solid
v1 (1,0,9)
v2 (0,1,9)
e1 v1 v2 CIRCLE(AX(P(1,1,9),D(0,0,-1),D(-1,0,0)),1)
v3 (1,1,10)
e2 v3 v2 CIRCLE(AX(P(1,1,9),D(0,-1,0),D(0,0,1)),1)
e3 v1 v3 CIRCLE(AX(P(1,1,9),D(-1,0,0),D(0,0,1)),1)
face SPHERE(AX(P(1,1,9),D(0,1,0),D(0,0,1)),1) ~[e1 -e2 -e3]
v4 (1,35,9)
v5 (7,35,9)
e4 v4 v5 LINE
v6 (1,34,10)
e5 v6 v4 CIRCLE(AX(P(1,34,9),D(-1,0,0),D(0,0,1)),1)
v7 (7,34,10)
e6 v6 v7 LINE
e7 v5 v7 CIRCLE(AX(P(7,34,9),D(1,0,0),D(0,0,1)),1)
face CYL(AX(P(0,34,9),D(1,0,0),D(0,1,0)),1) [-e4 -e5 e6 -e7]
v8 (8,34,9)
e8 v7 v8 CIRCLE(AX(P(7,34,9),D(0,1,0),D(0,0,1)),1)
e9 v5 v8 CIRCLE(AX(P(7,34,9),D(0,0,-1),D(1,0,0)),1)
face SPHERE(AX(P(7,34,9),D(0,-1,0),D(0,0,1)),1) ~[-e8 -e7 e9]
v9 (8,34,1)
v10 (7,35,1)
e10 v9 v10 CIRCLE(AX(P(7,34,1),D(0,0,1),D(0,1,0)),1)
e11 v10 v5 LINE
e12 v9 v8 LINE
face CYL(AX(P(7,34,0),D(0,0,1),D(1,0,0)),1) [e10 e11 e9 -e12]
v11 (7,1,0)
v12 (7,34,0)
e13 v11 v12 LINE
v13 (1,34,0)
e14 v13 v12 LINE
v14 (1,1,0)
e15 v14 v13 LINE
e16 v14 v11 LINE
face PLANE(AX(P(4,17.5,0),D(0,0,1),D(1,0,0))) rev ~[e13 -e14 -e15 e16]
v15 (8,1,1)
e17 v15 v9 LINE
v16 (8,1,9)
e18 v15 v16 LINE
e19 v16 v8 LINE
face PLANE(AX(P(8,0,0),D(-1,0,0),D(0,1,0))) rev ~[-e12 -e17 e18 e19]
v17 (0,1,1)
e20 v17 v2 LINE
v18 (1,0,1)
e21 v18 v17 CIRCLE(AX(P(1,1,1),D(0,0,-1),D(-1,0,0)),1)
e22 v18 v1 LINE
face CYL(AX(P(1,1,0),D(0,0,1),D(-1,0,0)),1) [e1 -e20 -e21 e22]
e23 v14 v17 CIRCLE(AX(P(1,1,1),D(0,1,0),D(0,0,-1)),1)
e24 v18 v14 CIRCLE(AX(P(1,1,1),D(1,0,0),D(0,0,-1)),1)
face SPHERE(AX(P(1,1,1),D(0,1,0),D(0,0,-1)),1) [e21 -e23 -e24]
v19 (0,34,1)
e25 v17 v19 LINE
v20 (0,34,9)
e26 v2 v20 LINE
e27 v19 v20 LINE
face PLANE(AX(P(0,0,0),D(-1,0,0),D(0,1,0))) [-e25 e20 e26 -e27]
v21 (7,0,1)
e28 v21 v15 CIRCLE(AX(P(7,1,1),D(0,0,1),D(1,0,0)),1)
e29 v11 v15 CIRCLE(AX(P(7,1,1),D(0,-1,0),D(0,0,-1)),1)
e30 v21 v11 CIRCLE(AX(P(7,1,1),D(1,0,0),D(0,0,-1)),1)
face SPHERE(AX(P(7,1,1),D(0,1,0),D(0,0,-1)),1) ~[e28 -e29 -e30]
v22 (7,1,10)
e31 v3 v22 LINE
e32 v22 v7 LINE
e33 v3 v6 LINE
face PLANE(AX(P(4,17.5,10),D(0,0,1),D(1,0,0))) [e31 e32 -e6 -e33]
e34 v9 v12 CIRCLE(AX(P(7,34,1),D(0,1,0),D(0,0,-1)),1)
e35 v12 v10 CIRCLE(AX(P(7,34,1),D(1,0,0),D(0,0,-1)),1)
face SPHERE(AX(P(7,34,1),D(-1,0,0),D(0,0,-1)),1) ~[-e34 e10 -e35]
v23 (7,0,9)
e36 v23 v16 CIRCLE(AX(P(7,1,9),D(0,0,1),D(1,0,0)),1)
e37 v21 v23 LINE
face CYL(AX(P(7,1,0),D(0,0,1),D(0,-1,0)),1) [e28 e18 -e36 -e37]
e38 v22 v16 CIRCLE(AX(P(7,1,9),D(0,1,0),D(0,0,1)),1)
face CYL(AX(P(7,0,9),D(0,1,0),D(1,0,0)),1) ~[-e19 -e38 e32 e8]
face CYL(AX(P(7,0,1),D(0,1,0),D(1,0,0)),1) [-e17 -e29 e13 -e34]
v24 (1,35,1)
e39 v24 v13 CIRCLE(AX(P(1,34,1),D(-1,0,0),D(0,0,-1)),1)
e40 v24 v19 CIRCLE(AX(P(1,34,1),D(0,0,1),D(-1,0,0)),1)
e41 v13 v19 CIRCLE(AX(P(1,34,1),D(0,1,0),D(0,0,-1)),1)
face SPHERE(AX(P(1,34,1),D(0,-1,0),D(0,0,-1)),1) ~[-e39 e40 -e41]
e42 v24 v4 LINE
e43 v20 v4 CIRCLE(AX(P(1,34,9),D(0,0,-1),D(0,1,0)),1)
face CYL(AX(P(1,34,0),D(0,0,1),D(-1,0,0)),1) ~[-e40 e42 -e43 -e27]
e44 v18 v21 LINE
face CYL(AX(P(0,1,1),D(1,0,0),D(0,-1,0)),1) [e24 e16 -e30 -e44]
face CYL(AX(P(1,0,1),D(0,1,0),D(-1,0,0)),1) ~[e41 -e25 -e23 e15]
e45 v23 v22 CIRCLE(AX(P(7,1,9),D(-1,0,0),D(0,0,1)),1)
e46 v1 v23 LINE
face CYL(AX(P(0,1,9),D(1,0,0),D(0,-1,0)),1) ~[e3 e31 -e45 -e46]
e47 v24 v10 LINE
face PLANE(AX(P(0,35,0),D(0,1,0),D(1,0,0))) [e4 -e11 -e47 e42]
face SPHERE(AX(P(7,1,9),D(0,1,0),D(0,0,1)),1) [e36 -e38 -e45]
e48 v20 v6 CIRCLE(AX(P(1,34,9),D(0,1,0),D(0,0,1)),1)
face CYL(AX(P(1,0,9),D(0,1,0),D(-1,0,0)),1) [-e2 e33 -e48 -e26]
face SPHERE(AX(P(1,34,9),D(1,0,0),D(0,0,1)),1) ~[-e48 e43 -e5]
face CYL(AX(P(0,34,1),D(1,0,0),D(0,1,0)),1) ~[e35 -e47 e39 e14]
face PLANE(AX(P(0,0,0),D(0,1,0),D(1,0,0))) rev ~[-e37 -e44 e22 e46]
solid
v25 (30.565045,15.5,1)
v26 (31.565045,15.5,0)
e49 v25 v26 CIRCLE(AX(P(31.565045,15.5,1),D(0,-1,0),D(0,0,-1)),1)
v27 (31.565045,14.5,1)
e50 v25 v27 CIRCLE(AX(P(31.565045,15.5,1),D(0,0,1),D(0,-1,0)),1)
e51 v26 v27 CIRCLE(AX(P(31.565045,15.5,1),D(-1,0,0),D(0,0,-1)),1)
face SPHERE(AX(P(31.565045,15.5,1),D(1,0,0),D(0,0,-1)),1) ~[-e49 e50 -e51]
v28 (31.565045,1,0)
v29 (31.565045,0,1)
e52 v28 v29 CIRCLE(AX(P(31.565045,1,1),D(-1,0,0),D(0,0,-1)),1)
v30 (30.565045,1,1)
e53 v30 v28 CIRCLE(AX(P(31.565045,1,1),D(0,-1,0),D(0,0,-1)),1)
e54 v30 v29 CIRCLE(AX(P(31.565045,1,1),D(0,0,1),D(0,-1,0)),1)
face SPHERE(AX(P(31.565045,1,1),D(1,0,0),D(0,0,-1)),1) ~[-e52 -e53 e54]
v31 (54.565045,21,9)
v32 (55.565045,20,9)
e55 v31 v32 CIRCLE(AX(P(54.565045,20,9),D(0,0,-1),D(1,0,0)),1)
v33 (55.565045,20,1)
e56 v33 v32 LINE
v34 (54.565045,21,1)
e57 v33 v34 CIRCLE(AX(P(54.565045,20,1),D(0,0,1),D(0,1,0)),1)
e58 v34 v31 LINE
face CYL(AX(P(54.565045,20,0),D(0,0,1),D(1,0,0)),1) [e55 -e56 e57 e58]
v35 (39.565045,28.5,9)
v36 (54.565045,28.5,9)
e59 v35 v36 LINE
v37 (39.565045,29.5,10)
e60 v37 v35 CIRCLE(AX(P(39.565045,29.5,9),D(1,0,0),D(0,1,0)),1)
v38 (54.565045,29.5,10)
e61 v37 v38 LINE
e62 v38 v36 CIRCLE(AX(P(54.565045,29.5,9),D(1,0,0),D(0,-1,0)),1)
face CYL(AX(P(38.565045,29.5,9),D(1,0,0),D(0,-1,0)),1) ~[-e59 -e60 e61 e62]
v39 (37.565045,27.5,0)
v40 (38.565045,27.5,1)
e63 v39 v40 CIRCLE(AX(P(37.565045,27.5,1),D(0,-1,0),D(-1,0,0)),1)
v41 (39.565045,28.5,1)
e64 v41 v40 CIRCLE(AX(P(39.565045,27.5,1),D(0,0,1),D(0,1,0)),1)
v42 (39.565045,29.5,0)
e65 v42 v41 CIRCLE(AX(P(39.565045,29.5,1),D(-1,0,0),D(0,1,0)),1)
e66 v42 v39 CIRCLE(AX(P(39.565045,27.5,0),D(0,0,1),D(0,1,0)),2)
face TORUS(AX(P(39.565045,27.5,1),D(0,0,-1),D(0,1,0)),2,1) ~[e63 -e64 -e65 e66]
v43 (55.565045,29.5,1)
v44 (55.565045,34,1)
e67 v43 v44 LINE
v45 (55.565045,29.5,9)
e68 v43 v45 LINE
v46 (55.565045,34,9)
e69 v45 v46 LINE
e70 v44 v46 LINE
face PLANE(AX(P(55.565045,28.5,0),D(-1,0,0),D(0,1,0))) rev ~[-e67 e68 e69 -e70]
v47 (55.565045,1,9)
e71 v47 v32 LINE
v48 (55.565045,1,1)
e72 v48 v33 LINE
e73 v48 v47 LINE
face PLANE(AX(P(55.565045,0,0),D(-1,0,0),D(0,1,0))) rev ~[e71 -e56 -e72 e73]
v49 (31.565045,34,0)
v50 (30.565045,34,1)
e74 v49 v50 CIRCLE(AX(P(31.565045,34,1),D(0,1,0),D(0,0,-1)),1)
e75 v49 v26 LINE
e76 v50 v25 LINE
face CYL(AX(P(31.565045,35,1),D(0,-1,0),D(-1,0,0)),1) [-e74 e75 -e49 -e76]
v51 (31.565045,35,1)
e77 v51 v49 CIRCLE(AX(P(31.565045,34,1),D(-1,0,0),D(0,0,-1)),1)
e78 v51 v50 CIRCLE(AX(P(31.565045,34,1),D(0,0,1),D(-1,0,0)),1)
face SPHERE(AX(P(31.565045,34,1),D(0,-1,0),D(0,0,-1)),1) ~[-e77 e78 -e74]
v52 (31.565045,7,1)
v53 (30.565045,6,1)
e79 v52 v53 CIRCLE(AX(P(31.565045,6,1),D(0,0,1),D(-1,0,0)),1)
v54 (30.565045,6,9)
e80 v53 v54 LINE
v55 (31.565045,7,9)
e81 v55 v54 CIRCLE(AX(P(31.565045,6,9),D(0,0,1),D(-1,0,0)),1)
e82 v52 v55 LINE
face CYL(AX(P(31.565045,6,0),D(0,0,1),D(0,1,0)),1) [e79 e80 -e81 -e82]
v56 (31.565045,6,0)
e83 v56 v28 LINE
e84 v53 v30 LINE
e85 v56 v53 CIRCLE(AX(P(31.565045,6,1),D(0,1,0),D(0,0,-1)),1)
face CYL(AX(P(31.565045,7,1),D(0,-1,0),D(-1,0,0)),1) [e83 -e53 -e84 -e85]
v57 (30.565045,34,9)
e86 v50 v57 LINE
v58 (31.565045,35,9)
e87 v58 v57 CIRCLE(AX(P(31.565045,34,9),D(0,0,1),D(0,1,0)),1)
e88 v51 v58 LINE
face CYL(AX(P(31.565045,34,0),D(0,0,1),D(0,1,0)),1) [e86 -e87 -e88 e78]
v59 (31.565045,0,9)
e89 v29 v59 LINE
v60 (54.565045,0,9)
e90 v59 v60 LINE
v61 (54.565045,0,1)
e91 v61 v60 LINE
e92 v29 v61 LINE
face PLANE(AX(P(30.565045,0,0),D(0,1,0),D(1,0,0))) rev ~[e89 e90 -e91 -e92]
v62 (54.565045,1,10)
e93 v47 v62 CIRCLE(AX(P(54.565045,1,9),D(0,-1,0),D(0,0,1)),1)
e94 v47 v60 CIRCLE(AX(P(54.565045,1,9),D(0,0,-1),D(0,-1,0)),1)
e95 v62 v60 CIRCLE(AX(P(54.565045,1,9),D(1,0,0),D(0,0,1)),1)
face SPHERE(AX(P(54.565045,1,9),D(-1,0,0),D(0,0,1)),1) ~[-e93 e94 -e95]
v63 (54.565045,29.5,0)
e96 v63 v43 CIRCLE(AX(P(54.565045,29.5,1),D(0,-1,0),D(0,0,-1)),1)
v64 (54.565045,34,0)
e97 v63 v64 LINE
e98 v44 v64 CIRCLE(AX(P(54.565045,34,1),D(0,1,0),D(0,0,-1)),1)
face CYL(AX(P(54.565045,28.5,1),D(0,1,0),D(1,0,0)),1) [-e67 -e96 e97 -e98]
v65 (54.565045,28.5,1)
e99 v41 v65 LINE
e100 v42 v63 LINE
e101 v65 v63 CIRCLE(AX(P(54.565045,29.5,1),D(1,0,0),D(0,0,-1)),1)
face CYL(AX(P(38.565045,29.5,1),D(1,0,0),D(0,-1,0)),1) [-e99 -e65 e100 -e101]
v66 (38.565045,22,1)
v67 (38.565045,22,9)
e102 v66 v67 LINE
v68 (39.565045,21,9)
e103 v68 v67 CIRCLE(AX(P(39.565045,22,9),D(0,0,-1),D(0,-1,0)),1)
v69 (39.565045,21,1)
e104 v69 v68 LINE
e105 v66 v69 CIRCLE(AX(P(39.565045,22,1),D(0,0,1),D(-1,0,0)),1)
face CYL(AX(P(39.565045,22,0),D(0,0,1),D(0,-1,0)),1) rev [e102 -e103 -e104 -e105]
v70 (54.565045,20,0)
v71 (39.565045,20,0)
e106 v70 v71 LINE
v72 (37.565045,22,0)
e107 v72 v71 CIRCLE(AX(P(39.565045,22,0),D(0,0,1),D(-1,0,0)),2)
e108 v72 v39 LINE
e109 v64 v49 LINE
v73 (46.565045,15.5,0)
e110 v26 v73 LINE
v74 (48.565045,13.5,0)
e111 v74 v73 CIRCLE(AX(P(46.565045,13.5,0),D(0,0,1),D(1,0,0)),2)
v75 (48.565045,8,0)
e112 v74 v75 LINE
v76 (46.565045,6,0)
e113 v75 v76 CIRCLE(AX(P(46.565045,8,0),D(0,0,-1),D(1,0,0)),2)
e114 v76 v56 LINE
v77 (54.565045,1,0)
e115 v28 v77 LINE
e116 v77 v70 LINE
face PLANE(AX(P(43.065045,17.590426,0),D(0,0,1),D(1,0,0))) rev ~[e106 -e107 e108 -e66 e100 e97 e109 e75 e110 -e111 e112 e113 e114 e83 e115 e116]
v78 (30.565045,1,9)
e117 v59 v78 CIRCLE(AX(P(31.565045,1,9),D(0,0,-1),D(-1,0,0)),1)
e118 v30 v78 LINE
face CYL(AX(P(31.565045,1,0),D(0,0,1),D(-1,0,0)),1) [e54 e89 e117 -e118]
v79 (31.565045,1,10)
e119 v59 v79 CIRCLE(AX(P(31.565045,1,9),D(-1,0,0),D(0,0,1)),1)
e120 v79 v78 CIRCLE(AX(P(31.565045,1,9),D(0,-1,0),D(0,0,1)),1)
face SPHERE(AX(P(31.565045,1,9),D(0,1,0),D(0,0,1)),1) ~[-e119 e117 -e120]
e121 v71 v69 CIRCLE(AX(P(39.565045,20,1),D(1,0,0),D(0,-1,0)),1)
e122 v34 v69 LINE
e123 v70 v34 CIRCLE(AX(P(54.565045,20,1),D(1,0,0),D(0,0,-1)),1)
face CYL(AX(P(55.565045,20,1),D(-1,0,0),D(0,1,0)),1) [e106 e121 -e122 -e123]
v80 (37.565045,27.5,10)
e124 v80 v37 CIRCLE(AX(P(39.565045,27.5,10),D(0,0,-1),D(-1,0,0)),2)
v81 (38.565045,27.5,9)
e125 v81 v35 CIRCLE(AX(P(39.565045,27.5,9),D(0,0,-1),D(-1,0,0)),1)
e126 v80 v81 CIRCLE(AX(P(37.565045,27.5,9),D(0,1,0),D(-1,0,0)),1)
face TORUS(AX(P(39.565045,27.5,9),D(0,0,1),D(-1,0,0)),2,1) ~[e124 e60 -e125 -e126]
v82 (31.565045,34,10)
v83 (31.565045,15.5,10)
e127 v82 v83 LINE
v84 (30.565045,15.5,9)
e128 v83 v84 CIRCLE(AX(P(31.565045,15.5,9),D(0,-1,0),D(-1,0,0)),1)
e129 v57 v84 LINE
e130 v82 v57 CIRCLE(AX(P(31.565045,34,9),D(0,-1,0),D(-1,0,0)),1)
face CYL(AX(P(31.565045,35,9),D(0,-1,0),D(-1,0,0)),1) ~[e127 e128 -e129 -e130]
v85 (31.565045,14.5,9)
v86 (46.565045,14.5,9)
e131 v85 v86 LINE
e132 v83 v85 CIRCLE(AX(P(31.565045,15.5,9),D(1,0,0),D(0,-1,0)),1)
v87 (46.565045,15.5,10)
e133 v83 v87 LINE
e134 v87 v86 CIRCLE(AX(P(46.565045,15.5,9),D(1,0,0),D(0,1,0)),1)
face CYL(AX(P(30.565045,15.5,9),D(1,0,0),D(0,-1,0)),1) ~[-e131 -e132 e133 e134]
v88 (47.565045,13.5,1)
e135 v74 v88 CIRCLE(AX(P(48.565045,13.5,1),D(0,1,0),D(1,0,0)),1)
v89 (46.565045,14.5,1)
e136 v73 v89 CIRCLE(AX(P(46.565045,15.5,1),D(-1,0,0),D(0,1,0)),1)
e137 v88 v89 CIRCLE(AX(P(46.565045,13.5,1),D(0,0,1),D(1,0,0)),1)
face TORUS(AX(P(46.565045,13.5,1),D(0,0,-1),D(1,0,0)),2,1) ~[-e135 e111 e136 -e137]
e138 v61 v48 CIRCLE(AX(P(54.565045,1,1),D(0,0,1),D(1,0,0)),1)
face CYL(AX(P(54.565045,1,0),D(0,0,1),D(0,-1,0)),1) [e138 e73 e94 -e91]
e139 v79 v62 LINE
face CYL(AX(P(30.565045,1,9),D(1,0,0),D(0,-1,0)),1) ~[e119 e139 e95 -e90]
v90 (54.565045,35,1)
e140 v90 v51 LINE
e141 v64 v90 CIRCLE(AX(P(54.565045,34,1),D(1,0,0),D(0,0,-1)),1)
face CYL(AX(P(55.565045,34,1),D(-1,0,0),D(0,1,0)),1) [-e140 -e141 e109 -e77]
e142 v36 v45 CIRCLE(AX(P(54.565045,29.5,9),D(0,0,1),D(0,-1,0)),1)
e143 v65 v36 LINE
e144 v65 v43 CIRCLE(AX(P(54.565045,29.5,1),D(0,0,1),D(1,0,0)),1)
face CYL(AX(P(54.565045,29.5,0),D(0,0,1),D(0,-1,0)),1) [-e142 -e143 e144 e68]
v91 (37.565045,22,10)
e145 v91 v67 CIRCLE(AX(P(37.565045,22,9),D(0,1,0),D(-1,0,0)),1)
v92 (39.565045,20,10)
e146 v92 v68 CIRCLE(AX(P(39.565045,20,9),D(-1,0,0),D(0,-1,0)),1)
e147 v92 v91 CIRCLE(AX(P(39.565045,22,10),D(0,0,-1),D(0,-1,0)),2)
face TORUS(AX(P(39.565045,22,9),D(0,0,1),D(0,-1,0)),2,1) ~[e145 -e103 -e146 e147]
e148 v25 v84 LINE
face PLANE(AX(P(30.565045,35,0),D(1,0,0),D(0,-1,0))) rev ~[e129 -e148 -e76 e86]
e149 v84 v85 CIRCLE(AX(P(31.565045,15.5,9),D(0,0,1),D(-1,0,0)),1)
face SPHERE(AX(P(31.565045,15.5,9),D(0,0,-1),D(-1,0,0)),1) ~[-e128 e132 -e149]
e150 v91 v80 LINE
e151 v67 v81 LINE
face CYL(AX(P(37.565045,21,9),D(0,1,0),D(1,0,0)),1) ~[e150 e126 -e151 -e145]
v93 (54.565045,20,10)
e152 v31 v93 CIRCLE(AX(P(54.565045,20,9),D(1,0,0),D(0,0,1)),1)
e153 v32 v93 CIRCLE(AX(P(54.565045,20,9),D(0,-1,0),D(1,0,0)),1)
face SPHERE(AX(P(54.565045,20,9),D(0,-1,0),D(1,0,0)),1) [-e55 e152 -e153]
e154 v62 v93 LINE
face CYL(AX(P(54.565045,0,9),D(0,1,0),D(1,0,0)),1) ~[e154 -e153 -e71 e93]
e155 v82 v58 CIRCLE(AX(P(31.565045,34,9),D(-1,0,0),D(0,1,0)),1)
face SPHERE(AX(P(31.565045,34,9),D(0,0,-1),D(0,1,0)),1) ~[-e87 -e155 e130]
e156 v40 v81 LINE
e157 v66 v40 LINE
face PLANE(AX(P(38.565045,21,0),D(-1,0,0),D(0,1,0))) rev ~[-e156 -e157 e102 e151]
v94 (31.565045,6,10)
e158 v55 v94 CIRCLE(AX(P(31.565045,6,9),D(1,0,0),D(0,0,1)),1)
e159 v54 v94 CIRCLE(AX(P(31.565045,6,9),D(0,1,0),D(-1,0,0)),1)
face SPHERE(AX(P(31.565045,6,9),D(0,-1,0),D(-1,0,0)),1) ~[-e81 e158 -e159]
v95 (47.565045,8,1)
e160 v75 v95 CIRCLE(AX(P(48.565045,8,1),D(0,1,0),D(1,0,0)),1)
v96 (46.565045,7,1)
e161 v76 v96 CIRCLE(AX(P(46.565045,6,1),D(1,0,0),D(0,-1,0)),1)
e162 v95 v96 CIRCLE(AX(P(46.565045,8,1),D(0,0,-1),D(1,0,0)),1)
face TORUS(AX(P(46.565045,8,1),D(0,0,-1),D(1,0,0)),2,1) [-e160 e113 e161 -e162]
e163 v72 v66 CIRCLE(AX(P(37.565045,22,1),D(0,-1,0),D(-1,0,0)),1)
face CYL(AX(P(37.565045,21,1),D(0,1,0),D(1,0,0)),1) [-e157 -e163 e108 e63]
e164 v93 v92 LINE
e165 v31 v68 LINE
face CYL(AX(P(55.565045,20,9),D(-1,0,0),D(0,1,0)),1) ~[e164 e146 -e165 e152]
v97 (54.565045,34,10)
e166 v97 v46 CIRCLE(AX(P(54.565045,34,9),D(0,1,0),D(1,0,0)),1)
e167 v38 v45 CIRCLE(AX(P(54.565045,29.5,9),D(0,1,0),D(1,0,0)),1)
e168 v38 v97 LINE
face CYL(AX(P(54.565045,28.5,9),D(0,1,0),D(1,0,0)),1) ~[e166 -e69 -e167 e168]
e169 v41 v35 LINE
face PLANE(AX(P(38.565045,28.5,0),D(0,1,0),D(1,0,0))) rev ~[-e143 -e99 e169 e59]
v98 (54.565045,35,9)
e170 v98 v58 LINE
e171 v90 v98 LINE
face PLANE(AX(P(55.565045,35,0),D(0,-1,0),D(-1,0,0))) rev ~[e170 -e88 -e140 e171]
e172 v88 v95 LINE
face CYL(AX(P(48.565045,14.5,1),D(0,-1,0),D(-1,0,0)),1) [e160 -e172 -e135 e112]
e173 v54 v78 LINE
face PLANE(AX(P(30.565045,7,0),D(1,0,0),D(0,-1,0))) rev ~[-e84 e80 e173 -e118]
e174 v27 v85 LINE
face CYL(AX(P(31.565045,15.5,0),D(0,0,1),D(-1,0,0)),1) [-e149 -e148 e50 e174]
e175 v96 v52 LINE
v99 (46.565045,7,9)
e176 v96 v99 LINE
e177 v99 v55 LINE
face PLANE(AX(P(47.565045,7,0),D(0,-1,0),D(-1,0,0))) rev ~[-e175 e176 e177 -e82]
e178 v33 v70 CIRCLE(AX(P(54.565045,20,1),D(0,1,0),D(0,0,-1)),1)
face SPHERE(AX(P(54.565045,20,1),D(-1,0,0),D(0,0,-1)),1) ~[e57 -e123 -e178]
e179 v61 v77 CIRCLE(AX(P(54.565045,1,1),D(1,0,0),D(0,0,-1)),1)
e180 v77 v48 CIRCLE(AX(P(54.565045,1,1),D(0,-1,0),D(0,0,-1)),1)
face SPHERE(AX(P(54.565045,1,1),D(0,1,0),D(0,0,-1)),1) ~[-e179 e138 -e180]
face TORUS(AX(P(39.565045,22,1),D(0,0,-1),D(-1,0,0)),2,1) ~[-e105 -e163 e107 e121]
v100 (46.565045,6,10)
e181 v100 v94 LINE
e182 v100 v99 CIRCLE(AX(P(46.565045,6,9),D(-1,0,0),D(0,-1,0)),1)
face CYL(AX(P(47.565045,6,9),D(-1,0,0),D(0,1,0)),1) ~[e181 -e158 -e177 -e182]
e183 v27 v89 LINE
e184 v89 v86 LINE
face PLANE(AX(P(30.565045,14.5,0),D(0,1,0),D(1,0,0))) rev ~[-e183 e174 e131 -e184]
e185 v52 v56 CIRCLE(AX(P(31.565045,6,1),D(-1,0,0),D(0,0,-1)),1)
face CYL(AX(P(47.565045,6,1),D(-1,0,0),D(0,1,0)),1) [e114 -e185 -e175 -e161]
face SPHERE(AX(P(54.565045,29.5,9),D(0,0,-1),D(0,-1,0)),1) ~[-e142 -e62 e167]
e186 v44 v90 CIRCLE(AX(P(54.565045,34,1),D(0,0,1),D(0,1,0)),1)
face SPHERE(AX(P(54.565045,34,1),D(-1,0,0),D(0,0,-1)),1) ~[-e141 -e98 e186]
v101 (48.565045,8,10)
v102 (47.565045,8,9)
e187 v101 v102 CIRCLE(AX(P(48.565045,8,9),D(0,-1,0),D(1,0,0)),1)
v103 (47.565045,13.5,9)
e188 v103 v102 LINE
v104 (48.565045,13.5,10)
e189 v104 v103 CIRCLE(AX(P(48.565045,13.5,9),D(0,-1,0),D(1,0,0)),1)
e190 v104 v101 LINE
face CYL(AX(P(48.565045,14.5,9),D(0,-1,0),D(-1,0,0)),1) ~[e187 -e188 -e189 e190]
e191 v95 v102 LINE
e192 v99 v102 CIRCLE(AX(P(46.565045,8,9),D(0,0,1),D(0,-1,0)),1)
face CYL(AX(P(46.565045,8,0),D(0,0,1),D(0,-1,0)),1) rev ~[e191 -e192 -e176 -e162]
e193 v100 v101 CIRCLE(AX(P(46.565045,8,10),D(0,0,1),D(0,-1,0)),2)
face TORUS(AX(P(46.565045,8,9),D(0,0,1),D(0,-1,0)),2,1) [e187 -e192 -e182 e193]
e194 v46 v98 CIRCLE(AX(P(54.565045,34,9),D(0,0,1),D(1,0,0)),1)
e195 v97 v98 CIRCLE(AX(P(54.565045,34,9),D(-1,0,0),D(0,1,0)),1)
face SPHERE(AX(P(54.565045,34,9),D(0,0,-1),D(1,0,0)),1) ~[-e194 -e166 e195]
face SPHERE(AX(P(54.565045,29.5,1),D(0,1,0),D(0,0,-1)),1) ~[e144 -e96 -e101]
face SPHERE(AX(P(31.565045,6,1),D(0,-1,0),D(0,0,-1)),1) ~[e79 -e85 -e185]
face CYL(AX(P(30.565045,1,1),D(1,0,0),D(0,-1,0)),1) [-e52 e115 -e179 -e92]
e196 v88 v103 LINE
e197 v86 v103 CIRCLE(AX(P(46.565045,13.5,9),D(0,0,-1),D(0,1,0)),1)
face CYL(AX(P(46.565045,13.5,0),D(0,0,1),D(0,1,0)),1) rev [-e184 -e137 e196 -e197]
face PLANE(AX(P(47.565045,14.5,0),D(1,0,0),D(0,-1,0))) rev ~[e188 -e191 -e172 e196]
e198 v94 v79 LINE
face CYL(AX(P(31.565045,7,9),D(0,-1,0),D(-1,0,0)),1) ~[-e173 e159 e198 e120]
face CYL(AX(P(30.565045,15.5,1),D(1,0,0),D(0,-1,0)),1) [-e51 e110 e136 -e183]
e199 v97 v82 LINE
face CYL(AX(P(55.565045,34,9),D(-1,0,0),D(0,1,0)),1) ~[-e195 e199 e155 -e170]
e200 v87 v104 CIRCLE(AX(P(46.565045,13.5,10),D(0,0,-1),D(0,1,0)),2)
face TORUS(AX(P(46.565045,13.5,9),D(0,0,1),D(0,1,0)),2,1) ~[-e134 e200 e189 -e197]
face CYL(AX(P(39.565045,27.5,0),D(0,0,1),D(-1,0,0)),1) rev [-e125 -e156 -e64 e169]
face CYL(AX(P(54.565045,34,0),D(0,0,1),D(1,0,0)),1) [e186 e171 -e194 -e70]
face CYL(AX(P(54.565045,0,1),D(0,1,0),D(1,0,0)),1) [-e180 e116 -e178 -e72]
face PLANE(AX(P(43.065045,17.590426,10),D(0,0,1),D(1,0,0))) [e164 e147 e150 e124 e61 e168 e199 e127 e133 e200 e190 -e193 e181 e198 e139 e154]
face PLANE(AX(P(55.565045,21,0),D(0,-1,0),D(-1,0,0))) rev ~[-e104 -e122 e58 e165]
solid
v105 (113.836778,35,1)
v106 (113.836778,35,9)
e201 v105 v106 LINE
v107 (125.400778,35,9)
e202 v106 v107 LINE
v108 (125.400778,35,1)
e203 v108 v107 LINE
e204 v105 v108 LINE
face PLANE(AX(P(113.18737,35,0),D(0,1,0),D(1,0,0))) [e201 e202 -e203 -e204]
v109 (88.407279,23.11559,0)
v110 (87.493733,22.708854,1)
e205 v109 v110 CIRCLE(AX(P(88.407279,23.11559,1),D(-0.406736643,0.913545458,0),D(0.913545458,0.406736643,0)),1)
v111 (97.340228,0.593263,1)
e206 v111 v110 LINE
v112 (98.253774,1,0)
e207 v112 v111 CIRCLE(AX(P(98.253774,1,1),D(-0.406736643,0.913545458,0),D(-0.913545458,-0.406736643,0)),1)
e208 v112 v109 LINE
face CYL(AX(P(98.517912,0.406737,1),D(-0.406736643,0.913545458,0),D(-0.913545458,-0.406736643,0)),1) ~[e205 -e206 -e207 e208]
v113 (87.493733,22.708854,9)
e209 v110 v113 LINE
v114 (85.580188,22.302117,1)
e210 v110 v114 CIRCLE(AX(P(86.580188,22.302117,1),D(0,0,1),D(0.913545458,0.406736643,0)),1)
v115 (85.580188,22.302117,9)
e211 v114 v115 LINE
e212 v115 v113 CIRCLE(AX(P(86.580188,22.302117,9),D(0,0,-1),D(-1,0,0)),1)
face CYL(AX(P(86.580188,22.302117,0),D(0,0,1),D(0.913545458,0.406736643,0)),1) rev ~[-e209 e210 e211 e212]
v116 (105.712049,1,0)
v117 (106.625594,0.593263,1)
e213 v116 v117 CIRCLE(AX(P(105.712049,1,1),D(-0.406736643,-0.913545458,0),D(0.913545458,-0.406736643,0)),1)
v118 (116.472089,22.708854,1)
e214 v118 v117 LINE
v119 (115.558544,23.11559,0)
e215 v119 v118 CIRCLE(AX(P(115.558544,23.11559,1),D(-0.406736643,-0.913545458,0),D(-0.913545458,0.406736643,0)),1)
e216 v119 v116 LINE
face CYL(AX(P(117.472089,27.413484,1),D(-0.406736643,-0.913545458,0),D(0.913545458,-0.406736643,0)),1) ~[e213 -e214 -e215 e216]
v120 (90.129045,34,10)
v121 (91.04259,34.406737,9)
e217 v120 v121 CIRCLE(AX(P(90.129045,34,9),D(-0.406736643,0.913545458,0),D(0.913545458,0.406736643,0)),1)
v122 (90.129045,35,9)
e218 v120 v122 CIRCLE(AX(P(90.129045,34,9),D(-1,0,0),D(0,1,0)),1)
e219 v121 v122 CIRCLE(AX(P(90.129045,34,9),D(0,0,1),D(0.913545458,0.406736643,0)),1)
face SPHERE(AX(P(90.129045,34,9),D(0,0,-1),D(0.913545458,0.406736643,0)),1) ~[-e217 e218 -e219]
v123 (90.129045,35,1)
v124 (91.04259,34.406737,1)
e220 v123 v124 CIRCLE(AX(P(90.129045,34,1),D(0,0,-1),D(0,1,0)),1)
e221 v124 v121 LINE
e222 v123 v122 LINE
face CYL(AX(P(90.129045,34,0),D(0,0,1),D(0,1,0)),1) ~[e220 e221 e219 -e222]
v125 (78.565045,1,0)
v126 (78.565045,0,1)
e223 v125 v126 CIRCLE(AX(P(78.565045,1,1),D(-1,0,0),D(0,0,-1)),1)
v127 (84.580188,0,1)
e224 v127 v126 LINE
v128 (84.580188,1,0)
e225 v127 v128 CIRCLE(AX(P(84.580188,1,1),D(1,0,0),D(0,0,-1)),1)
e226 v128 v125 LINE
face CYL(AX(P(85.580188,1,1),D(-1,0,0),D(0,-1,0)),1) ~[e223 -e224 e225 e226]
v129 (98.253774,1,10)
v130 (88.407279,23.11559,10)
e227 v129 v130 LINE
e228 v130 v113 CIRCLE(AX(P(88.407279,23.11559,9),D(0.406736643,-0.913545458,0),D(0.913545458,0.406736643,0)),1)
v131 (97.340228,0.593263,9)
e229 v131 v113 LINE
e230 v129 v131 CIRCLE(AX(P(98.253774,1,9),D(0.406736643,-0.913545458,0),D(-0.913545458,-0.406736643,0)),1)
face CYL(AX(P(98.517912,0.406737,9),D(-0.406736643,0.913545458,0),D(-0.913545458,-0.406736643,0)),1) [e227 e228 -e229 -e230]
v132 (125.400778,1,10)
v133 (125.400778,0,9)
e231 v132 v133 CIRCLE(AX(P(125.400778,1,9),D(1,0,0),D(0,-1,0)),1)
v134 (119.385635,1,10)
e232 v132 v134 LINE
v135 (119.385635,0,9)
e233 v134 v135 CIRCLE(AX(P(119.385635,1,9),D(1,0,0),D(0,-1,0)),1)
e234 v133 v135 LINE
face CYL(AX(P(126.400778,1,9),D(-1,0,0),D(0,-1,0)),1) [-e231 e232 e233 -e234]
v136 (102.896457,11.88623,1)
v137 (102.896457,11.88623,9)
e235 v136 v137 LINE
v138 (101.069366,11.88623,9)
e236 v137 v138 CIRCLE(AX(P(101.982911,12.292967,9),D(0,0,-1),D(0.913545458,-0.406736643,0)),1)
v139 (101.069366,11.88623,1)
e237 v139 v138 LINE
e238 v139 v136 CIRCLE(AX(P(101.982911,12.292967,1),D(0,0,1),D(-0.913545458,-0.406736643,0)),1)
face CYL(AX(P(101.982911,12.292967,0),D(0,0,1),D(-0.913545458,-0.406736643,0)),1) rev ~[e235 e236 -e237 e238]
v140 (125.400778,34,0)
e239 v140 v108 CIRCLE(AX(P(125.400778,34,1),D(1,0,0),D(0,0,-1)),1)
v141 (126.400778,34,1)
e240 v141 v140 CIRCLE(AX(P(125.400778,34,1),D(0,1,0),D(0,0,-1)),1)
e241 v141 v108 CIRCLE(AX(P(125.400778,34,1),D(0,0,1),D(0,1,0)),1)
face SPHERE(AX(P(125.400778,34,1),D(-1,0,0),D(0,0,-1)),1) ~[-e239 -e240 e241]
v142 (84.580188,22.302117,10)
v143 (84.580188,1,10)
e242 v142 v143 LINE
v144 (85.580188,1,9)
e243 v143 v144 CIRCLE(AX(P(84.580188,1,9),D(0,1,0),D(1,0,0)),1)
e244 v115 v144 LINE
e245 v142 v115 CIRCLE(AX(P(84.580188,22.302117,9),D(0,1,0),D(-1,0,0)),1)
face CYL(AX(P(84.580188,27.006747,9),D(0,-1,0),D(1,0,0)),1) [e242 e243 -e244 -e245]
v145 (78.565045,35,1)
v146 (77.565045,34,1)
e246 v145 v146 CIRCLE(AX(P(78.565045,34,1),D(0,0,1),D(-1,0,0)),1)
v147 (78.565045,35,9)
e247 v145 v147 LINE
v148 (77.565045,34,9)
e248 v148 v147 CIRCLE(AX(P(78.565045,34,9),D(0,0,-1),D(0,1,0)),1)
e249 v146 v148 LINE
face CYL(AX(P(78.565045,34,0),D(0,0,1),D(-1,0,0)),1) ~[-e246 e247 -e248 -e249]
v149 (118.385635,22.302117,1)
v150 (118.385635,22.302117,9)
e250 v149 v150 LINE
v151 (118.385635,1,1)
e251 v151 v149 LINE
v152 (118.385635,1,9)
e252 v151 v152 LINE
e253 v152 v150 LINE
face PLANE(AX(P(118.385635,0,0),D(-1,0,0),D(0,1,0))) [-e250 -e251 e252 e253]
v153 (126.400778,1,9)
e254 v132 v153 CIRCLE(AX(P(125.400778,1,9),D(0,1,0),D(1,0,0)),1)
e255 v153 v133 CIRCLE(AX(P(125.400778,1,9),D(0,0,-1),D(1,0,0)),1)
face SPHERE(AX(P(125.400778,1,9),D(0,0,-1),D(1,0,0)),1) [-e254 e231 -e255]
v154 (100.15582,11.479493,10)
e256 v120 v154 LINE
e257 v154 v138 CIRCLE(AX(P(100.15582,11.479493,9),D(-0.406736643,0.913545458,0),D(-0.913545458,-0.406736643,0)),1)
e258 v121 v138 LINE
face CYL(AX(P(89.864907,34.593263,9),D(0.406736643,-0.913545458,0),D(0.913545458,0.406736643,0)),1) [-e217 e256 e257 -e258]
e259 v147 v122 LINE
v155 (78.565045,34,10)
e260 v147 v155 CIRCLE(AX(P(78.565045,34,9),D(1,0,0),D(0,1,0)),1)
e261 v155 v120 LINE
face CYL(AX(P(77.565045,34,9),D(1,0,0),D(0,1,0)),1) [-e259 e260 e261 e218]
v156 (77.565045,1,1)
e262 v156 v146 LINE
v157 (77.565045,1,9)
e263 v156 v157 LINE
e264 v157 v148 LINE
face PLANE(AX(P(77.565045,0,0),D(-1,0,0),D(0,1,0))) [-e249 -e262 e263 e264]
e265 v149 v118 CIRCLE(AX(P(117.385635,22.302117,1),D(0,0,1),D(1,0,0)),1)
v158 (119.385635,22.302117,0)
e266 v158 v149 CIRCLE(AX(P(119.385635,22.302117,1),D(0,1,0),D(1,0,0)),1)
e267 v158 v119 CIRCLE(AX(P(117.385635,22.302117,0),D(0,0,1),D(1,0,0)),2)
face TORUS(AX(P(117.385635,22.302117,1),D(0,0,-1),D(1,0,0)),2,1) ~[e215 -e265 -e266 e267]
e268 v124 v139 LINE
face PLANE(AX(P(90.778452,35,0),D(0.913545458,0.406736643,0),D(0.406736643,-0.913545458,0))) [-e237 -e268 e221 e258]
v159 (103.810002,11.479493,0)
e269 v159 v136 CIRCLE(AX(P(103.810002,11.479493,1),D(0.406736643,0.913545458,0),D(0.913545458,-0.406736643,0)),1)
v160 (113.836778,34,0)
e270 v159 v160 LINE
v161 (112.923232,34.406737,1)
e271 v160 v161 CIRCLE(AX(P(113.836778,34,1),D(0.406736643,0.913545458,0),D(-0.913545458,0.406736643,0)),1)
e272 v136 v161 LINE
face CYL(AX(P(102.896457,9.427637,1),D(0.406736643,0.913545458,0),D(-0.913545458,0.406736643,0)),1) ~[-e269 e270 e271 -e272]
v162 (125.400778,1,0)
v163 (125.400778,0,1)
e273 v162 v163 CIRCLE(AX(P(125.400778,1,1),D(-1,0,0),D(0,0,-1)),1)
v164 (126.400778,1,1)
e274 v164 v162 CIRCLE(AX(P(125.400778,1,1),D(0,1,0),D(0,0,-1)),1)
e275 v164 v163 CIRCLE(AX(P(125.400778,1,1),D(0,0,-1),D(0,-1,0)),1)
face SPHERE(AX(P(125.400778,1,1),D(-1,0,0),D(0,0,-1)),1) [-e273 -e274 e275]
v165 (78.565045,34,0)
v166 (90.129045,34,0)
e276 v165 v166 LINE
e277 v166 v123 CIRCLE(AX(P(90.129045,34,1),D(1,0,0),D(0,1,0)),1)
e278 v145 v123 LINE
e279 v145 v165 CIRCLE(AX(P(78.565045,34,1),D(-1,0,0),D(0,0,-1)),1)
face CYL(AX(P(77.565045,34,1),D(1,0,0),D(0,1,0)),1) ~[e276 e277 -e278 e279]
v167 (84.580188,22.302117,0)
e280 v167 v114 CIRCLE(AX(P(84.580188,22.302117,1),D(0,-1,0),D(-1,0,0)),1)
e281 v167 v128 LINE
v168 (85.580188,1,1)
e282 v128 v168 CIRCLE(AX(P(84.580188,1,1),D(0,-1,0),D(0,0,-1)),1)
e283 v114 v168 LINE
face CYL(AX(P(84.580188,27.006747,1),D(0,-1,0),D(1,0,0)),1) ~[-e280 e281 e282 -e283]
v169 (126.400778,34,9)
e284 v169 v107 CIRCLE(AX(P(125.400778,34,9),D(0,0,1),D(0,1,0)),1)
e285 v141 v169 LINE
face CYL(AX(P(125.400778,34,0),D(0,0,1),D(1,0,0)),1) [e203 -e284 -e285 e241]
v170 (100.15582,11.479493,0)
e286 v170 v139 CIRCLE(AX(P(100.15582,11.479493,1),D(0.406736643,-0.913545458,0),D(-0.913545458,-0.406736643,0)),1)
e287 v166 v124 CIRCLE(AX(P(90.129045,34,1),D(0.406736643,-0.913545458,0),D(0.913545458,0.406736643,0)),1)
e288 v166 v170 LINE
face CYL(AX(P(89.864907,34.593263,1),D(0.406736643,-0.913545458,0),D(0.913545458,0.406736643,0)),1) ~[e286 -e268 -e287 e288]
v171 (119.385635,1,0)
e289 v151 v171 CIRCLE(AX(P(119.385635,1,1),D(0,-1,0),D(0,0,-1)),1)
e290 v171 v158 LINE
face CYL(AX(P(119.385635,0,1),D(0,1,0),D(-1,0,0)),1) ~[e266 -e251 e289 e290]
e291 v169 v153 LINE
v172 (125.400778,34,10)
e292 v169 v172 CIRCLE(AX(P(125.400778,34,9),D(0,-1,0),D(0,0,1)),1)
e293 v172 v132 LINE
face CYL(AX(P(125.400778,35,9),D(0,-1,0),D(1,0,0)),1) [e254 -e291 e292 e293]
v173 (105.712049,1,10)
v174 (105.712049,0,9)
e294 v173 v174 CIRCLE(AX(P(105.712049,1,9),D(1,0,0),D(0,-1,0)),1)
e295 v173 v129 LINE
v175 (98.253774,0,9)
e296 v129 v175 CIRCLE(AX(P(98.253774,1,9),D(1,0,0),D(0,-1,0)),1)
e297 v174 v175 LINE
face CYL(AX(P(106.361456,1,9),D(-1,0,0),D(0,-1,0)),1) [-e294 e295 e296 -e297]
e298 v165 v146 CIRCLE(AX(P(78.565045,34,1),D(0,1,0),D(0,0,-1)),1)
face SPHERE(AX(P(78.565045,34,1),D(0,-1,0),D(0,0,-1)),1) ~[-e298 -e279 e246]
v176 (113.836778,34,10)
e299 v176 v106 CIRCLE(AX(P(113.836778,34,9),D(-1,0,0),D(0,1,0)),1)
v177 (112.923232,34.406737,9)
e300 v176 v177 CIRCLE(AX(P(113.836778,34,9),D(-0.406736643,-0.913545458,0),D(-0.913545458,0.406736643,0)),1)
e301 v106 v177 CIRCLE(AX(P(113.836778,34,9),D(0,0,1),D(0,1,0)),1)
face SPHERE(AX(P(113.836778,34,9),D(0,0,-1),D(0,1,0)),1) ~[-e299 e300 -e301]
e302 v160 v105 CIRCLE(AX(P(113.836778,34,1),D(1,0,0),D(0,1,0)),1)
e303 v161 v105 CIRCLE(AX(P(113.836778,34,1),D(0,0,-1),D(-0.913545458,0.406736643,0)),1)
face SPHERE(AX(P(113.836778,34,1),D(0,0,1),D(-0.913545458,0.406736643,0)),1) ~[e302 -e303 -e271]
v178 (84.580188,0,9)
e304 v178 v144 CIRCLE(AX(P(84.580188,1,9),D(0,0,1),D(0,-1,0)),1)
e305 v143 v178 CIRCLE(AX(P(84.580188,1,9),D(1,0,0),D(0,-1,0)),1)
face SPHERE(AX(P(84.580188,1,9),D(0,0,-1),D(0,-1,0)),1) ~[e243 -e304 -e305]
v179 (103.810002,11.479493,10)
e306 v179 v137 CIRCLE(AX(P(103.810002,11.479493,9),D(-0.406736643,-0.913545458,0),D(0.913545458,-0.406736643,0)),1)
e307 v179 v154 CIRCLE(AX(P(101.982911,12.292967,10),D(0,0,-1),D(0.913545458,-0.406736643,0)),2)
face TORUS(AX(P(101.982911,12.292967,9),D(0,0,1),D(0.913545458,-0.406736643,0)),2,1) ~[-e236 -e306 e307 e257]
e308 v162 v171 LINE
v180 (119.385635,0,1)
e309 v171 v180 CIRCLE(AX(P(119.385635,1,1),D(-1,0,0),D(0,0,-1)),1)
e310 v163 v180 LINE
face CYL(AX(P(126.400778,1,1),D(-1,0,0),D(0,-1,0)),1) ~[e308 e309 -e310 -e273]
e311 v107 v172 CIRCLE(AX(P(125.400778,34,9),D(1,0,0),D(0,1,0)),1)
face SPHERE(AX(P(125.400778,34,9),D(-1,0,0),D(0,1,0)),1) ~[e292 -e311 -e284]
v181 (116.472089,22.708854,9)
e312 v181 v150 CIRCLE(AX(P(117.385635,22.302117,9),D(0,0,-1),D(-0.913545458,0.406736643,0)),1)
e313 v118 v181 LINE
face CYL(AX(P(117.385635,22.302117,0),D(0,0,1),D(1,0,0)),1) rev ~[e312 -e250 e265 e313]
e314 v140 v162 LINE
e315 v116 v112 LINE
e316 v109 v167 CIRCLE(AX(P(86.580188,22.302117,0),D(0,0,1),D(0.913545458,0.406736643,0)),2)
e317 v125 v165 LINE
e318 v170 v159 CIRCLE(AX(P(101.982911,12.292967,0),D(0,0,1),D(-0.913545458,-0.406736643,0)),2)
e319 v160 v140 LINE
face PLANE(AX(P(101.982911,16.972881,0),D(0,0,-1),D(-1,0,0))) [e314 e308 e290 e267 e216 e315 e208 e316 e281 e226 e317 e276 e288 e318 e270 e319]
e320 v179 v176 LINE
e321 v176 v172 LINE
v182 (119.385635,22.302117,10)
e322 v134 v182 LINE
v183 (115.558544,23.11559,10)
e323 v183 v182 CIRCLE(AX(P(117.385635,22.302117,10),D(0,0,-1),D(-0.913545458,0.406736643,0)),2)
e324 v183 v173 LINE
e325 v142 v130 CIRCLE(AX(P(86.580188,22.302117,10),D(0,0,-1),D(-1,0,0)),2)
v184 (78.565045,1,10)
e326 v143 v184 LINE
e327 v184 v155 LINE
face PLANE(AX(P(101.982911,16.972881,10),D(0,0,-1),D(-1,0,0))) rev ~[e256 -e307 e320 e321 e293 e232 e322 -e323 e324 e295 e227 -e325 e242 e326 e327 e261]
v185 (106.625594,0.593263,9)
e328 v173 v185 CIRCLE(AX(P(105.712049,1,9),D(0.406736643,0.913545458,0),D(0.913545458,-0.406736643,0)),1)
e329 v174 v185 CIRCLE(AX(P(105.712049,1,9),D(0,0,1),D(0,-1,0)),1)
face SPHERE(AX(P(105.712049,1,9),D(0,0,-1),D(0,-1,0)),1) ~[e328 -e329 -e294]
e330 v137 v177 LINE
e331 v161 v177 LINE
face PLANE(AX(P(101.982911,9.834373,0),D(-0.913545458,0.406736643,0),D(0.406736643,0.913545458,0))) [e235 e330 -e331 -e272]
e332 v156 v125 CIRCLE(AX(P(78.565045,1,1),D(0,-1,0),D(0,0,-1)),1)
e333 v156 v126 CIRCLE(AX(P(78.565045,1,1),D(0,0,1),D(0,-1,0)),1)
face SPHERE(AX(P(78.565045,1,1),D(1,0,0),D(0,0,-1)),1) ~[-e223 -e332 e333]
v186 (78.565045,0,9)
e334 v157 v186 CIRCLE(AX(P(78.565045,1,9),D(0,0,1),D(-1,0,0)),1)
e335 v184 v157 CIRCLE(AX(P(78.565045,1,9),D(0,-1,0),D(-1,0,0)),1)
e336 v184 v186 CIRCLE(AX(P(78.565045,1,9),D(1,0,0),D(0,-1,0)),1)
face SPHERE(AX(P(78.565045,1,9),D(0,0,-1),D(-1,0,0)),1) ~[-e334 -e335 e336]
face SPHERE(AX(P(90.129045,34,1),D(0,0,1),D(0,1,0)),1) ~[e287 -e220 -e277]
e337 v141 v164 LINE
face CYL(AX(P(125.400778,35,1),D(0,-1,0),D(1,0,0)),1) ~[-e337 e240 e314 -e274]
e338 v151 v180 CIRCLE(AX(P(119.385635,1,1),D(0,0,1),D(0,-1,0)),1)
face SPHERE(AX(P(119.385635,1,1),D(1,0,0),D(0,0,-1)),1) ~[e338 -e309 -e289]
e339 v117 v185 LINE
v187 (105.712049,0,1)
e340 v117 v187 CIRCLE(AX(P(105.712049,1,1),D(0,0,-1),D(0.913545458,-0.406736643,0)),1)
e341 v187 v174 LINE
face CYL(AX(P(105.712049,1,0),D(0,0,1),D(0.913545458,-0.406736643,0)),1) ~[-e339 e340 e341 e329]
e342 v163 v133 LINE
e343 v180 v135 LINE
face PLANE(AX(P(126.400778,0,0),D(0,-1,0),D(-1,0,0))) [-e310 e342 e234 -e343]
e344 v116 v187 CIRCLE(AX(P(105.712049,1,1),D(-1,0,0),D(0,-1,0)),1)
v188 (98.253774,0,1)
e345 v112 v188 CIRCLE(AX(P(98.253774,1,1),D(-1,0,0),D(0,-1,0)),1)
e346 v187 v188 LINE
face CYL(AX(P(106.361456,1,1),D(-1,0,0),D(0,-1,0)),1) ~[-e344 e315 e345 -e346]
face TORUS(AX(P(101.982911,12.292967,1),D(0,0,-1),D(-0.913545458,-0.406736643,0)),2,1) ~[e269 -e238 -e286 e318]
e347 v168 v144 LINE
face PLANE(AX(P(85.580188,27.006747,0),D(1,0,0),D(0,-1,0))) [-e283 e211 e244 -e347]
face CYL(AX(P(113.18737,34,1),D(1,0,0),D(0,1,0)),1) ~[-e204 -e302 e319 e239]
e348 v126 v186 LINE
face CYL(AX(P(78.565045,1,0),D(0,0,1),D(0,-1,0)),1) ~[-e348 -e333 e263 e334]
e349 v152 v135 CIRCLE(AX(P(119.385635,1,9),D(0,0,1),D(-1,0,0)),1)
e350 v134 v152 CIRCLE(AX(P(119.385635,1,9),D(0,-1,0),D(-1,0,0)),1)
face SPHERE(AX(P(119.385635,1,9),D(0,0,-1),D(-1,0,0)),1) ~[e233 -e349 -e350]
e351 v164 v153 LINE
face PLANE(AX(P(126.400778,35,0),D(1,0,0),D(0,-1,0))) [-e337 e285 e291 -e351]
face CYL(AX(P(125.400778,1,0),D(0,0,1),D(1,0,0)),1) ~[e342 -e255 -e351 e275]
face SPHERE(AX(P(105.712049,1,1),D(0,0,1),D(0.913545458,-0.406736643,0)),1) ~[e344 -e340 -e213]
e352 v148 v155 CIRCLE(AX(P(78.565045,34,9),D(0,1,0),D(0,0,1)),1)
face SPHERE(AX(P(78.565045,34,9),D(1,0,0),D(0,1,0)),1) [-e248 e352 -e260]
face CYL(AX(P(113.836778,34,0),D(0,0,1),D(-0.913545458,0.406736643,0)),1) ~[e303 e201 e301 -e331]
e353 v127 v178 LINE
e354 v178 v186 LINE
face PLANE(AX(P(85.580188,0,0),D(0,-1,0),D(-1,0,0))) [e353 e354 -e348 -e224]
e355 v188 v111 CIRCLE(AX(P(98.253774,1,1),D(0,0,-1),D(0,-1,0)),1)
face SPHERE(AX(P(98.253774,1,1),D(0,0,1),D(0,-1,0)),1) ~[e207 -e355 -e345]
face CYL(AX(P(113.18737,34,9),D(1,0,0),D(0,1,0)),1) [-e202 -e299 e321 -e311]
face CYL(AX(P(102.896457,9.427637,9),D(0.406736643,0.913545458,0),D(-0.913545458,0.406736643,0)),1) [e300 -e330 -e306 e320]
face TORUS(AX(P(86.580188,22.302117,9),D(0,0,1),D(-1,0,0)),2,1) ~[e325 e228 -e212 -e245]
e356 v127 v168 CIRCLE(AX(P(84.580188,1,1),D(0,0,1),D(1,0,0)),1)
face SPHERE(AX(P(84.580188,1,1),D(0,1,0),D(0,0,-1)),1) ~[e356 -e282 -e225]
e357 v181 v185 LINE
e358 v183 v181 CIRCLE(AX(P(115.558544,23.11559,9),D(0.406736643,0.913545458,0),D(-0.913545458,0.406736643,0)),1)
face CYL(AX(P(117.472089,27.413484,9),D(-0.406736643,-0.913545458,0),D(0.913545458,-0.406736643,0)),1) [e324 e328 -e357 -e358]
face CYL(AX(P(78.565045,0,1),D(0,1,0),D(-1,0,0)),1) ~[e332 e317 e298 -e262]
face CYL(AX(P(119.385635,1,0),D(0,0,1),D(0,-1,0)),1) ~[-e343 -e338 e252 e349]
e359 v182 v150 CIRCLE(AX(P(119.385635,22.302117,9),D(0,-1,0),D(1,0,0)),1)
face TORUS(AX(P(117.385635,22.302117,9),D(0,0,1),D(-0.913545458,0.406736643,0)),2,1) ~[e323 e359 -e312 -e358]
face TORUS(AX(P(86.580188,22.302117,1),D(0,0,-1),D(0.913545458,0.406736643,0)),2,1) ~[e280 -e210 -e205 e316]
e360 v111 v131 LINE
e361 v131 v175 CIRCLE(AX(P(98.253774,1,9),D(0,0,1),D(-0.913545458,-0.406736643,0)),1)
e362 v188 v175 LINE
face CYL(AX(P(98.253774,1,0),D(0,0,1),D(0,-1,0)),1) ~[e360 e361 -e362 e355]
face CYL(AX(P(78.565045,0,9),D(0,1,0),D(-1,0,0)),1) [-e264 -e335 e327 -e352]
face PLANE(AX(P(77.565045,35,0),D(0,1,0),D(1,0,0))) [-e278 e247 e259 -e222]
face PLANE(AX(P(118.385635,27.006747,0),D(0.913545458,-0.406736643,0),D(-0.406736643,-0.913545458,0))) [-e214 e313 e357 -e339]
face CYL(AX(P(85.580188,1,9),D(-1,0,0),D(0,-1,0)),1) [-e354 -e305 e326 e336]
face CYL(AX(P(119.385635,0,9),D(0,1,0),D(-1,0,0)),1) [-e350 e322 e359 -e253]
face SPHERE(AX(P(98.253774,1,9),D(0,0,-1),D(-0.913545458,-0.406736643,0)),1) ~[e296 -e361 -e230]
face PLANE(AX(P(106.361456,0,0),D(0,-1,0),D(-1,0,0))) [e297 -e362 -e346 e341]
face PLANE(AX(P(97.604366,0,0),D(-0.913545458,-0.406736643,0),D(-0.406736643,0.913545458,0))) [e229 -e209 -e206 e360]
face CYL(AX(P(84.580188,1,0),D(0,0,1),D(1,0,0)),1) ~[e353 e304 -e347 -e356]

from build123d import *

# Parameters (mm, degrees)
SKETCH1_W             = 8
SKETCH1_H             = 35
BOSS_EXTRUDE1_DEPTH   = 10
BOSS_EXTRUDE1_2_DEPTH = 10
BOSS_EXTRUDE1_3_DEPTH = 10
FILLET1_R             = 1
FILLET2_R             = 1
FILLET3_R             = 1


with BuildPart() as part:
    # Sketch1 → Boss-Extrude1 (new body)
    with BuildSketch(Plane.XY):
        with Locations((4, 17.5)):
            Rectangle(SKETCH1_W, SKETCH1_H)
    extrude(amount=BOSS_EXTRUDE1_DEPTH)

    # Fillet1
    fillet1_edges = [part.edges().sort_by_distance(p)[0] for p in [
        (8, 17.5, 10),
        (4, 35, 10),
        (0, 17.5, 10),
        (4, 0, 10),
        (0, 17.5, 0),
        (4, 35, 0),
        (8, 17.5, 0),
        (4, 0, 0),
        (0, 0, 5),
        (0, 35, 5),
        (8, 35, 5),
        (8, 0, 5),
    ]]
    fillet(fillet1_edges, radius=FILLET1_R)


with BuildPart() as body_2:
    # Sketch1 → Boss-Extrude1 2 (new body)
    with BuildSketch(Plane.XY):
        Polygon((47.565044972, 7), (30.565044972, 7), (30.565044972, 0), (55.565044972, 0), (55.565044972, 21), (38.565044972, 21), (38.565044972, 28.5), (55.565044972, 28.5), (55.565044972, 35), (30.565044972, 35), (30.565044972, 14.5), (47.565044972, 14.5), align=None)
    extrude(amount=BOSS_EXTRUDE1_2_DEPTH)

    # Fillet2
    fillet2_edges = [body_2.edges().sort_by_distance(p)[0] for p in [
        (30.565044972, 3.5, 10),
        (47.565044972, 10.75, 0),
        (39.065044972, 14.5, 0),
        (30.565044972, 24.75, 0),
        (43.065044972, 0, 10),
        (43.065044972, 35, 0),
        (55.565044972, 31.75, 0),
        (47.065044972, 28.5, 0),
        (38.565044972, 24.75, 0),
        (47.065044972, 21, 0),
        (55.565044972, 10.5, 0),
        (43.065044972, 0, 0),
        (30.565044972, 3.5, 0),
        (39.065044972, 7, 0),
        (55.565044972, 10.5, 10),
        (47.565044972, 7, 5),
        (47.565044972, 14.5, 5),
        (30.565044972, 14.5, 5),
        (30.565044972, 35, 5),
        (55.565044972, 35, 5),
        (55.565044972, 28.5, 5),
        (38.565044972, 28.5, 5),
        (38.565044972, 21, 5),
        (55.565044972, 21, 5),
        (55.565044972, 0, 5),
        (30.565044972, 0, 5),
        (30.565044972, 7, 5),
        (47.065044972, 21, 10),
        (38.565044972, 24.75, 10),
        (47.065044972, 28.5, 10),
        (55.565044972, 31.75, 10),
        (43.065044972, 35, 10),
        (39.065044972, 7, 10),
        (30.565044972, 24.75, 10),
        (39.065044972, 14.5, 10),
        (47.565044972, 10.75, 10),
    ]]
    fillet(fillet2_edges, radius=FILLET2_R)


with BuildPart() as body_3:
    # Sketch1 → Boss-Extrude1 3 (new body)
    with BuildSketch(Plane.XY):
        Polygon((126.40077753, 35), (126.40077753, 0), (118.385634846, 0), (118.385634846, 27.006747045), (106.361456365, 0), (97.604366137, 0), (85.580187656, 27.006747045), (85.580187656, 0), (77.565044972, 0), (77.565044972, 35), (90.778452379, 35), (101.982911251, 9.834373342), (113.187370123, 35), align=None)
    extrude(amount=BOSS_EXTRUDE1_3_DEPTH)

    # Fillet3
    fillet3_edges = [body_3.edges().sort_by_distance(p)[0] for p in [
        (119.794073826, 35, 10),
        (122.393206188, 0, 0),
        (107.585140687, 22.417186671, 10),
        (118.385634846, 13.503373523, 0),
        (112.373545606, 13.503373523, 0),
        (101.982911251, 0, 0),
        (91.592276896, 13.503373523, 0),
        (85.580187656, 13.503373523, 0),
        (81.572616314, 0, 0),
        (77.565044972, 17.5, 0),
        (84.171748676, 35, 0),
        (96.380681815, 22.417186671, 0),
        (107.585140687, 22.417186671, 0),
        (96.380681815, 22.417186671, 10),
        (119.794073826, 35, 0),
        (126.40077753, 17.5, 0),
        (84.171748676, 35, 10),
        (126.40077753, 0, 5),
        (118.385634846, 0, 5),
        (118.385634846, 27.006747045, 5),
        (106.361456365, 0, 5),
        (97.604366137, 0, 5),
        (85.580187656, 27.006747045, 5),
        (85.580187656, 0, 5),
        (77.565044972, 0, 5),
        (77.565044972, 35, 5),
        (90.778452379, 35, 5),
        (101.982911251, 9.834373342, 5),
        (113.187370123, 35, 5),
        (126.40077753, 35, 5),
        (77.565044972, 17.5, 10),
        (81.572616314, 0, 10),
        (85.580187656, 13.503373523, 10),
        (91.592276896, 13.503373523, 10),
        (126.40077753, 17.5, 10),
        (101.982911251, 0, 10),
        (112.373545606, 13.503373523, 10),
        (118.385634846, 13.503373523, 10),
        (122.393206188, 0, 10),
    ]]
    fillet(fillet3_edges, radius=FILLET3_R)


solid = Compound([part.part, body_2.part, body_3.part])
